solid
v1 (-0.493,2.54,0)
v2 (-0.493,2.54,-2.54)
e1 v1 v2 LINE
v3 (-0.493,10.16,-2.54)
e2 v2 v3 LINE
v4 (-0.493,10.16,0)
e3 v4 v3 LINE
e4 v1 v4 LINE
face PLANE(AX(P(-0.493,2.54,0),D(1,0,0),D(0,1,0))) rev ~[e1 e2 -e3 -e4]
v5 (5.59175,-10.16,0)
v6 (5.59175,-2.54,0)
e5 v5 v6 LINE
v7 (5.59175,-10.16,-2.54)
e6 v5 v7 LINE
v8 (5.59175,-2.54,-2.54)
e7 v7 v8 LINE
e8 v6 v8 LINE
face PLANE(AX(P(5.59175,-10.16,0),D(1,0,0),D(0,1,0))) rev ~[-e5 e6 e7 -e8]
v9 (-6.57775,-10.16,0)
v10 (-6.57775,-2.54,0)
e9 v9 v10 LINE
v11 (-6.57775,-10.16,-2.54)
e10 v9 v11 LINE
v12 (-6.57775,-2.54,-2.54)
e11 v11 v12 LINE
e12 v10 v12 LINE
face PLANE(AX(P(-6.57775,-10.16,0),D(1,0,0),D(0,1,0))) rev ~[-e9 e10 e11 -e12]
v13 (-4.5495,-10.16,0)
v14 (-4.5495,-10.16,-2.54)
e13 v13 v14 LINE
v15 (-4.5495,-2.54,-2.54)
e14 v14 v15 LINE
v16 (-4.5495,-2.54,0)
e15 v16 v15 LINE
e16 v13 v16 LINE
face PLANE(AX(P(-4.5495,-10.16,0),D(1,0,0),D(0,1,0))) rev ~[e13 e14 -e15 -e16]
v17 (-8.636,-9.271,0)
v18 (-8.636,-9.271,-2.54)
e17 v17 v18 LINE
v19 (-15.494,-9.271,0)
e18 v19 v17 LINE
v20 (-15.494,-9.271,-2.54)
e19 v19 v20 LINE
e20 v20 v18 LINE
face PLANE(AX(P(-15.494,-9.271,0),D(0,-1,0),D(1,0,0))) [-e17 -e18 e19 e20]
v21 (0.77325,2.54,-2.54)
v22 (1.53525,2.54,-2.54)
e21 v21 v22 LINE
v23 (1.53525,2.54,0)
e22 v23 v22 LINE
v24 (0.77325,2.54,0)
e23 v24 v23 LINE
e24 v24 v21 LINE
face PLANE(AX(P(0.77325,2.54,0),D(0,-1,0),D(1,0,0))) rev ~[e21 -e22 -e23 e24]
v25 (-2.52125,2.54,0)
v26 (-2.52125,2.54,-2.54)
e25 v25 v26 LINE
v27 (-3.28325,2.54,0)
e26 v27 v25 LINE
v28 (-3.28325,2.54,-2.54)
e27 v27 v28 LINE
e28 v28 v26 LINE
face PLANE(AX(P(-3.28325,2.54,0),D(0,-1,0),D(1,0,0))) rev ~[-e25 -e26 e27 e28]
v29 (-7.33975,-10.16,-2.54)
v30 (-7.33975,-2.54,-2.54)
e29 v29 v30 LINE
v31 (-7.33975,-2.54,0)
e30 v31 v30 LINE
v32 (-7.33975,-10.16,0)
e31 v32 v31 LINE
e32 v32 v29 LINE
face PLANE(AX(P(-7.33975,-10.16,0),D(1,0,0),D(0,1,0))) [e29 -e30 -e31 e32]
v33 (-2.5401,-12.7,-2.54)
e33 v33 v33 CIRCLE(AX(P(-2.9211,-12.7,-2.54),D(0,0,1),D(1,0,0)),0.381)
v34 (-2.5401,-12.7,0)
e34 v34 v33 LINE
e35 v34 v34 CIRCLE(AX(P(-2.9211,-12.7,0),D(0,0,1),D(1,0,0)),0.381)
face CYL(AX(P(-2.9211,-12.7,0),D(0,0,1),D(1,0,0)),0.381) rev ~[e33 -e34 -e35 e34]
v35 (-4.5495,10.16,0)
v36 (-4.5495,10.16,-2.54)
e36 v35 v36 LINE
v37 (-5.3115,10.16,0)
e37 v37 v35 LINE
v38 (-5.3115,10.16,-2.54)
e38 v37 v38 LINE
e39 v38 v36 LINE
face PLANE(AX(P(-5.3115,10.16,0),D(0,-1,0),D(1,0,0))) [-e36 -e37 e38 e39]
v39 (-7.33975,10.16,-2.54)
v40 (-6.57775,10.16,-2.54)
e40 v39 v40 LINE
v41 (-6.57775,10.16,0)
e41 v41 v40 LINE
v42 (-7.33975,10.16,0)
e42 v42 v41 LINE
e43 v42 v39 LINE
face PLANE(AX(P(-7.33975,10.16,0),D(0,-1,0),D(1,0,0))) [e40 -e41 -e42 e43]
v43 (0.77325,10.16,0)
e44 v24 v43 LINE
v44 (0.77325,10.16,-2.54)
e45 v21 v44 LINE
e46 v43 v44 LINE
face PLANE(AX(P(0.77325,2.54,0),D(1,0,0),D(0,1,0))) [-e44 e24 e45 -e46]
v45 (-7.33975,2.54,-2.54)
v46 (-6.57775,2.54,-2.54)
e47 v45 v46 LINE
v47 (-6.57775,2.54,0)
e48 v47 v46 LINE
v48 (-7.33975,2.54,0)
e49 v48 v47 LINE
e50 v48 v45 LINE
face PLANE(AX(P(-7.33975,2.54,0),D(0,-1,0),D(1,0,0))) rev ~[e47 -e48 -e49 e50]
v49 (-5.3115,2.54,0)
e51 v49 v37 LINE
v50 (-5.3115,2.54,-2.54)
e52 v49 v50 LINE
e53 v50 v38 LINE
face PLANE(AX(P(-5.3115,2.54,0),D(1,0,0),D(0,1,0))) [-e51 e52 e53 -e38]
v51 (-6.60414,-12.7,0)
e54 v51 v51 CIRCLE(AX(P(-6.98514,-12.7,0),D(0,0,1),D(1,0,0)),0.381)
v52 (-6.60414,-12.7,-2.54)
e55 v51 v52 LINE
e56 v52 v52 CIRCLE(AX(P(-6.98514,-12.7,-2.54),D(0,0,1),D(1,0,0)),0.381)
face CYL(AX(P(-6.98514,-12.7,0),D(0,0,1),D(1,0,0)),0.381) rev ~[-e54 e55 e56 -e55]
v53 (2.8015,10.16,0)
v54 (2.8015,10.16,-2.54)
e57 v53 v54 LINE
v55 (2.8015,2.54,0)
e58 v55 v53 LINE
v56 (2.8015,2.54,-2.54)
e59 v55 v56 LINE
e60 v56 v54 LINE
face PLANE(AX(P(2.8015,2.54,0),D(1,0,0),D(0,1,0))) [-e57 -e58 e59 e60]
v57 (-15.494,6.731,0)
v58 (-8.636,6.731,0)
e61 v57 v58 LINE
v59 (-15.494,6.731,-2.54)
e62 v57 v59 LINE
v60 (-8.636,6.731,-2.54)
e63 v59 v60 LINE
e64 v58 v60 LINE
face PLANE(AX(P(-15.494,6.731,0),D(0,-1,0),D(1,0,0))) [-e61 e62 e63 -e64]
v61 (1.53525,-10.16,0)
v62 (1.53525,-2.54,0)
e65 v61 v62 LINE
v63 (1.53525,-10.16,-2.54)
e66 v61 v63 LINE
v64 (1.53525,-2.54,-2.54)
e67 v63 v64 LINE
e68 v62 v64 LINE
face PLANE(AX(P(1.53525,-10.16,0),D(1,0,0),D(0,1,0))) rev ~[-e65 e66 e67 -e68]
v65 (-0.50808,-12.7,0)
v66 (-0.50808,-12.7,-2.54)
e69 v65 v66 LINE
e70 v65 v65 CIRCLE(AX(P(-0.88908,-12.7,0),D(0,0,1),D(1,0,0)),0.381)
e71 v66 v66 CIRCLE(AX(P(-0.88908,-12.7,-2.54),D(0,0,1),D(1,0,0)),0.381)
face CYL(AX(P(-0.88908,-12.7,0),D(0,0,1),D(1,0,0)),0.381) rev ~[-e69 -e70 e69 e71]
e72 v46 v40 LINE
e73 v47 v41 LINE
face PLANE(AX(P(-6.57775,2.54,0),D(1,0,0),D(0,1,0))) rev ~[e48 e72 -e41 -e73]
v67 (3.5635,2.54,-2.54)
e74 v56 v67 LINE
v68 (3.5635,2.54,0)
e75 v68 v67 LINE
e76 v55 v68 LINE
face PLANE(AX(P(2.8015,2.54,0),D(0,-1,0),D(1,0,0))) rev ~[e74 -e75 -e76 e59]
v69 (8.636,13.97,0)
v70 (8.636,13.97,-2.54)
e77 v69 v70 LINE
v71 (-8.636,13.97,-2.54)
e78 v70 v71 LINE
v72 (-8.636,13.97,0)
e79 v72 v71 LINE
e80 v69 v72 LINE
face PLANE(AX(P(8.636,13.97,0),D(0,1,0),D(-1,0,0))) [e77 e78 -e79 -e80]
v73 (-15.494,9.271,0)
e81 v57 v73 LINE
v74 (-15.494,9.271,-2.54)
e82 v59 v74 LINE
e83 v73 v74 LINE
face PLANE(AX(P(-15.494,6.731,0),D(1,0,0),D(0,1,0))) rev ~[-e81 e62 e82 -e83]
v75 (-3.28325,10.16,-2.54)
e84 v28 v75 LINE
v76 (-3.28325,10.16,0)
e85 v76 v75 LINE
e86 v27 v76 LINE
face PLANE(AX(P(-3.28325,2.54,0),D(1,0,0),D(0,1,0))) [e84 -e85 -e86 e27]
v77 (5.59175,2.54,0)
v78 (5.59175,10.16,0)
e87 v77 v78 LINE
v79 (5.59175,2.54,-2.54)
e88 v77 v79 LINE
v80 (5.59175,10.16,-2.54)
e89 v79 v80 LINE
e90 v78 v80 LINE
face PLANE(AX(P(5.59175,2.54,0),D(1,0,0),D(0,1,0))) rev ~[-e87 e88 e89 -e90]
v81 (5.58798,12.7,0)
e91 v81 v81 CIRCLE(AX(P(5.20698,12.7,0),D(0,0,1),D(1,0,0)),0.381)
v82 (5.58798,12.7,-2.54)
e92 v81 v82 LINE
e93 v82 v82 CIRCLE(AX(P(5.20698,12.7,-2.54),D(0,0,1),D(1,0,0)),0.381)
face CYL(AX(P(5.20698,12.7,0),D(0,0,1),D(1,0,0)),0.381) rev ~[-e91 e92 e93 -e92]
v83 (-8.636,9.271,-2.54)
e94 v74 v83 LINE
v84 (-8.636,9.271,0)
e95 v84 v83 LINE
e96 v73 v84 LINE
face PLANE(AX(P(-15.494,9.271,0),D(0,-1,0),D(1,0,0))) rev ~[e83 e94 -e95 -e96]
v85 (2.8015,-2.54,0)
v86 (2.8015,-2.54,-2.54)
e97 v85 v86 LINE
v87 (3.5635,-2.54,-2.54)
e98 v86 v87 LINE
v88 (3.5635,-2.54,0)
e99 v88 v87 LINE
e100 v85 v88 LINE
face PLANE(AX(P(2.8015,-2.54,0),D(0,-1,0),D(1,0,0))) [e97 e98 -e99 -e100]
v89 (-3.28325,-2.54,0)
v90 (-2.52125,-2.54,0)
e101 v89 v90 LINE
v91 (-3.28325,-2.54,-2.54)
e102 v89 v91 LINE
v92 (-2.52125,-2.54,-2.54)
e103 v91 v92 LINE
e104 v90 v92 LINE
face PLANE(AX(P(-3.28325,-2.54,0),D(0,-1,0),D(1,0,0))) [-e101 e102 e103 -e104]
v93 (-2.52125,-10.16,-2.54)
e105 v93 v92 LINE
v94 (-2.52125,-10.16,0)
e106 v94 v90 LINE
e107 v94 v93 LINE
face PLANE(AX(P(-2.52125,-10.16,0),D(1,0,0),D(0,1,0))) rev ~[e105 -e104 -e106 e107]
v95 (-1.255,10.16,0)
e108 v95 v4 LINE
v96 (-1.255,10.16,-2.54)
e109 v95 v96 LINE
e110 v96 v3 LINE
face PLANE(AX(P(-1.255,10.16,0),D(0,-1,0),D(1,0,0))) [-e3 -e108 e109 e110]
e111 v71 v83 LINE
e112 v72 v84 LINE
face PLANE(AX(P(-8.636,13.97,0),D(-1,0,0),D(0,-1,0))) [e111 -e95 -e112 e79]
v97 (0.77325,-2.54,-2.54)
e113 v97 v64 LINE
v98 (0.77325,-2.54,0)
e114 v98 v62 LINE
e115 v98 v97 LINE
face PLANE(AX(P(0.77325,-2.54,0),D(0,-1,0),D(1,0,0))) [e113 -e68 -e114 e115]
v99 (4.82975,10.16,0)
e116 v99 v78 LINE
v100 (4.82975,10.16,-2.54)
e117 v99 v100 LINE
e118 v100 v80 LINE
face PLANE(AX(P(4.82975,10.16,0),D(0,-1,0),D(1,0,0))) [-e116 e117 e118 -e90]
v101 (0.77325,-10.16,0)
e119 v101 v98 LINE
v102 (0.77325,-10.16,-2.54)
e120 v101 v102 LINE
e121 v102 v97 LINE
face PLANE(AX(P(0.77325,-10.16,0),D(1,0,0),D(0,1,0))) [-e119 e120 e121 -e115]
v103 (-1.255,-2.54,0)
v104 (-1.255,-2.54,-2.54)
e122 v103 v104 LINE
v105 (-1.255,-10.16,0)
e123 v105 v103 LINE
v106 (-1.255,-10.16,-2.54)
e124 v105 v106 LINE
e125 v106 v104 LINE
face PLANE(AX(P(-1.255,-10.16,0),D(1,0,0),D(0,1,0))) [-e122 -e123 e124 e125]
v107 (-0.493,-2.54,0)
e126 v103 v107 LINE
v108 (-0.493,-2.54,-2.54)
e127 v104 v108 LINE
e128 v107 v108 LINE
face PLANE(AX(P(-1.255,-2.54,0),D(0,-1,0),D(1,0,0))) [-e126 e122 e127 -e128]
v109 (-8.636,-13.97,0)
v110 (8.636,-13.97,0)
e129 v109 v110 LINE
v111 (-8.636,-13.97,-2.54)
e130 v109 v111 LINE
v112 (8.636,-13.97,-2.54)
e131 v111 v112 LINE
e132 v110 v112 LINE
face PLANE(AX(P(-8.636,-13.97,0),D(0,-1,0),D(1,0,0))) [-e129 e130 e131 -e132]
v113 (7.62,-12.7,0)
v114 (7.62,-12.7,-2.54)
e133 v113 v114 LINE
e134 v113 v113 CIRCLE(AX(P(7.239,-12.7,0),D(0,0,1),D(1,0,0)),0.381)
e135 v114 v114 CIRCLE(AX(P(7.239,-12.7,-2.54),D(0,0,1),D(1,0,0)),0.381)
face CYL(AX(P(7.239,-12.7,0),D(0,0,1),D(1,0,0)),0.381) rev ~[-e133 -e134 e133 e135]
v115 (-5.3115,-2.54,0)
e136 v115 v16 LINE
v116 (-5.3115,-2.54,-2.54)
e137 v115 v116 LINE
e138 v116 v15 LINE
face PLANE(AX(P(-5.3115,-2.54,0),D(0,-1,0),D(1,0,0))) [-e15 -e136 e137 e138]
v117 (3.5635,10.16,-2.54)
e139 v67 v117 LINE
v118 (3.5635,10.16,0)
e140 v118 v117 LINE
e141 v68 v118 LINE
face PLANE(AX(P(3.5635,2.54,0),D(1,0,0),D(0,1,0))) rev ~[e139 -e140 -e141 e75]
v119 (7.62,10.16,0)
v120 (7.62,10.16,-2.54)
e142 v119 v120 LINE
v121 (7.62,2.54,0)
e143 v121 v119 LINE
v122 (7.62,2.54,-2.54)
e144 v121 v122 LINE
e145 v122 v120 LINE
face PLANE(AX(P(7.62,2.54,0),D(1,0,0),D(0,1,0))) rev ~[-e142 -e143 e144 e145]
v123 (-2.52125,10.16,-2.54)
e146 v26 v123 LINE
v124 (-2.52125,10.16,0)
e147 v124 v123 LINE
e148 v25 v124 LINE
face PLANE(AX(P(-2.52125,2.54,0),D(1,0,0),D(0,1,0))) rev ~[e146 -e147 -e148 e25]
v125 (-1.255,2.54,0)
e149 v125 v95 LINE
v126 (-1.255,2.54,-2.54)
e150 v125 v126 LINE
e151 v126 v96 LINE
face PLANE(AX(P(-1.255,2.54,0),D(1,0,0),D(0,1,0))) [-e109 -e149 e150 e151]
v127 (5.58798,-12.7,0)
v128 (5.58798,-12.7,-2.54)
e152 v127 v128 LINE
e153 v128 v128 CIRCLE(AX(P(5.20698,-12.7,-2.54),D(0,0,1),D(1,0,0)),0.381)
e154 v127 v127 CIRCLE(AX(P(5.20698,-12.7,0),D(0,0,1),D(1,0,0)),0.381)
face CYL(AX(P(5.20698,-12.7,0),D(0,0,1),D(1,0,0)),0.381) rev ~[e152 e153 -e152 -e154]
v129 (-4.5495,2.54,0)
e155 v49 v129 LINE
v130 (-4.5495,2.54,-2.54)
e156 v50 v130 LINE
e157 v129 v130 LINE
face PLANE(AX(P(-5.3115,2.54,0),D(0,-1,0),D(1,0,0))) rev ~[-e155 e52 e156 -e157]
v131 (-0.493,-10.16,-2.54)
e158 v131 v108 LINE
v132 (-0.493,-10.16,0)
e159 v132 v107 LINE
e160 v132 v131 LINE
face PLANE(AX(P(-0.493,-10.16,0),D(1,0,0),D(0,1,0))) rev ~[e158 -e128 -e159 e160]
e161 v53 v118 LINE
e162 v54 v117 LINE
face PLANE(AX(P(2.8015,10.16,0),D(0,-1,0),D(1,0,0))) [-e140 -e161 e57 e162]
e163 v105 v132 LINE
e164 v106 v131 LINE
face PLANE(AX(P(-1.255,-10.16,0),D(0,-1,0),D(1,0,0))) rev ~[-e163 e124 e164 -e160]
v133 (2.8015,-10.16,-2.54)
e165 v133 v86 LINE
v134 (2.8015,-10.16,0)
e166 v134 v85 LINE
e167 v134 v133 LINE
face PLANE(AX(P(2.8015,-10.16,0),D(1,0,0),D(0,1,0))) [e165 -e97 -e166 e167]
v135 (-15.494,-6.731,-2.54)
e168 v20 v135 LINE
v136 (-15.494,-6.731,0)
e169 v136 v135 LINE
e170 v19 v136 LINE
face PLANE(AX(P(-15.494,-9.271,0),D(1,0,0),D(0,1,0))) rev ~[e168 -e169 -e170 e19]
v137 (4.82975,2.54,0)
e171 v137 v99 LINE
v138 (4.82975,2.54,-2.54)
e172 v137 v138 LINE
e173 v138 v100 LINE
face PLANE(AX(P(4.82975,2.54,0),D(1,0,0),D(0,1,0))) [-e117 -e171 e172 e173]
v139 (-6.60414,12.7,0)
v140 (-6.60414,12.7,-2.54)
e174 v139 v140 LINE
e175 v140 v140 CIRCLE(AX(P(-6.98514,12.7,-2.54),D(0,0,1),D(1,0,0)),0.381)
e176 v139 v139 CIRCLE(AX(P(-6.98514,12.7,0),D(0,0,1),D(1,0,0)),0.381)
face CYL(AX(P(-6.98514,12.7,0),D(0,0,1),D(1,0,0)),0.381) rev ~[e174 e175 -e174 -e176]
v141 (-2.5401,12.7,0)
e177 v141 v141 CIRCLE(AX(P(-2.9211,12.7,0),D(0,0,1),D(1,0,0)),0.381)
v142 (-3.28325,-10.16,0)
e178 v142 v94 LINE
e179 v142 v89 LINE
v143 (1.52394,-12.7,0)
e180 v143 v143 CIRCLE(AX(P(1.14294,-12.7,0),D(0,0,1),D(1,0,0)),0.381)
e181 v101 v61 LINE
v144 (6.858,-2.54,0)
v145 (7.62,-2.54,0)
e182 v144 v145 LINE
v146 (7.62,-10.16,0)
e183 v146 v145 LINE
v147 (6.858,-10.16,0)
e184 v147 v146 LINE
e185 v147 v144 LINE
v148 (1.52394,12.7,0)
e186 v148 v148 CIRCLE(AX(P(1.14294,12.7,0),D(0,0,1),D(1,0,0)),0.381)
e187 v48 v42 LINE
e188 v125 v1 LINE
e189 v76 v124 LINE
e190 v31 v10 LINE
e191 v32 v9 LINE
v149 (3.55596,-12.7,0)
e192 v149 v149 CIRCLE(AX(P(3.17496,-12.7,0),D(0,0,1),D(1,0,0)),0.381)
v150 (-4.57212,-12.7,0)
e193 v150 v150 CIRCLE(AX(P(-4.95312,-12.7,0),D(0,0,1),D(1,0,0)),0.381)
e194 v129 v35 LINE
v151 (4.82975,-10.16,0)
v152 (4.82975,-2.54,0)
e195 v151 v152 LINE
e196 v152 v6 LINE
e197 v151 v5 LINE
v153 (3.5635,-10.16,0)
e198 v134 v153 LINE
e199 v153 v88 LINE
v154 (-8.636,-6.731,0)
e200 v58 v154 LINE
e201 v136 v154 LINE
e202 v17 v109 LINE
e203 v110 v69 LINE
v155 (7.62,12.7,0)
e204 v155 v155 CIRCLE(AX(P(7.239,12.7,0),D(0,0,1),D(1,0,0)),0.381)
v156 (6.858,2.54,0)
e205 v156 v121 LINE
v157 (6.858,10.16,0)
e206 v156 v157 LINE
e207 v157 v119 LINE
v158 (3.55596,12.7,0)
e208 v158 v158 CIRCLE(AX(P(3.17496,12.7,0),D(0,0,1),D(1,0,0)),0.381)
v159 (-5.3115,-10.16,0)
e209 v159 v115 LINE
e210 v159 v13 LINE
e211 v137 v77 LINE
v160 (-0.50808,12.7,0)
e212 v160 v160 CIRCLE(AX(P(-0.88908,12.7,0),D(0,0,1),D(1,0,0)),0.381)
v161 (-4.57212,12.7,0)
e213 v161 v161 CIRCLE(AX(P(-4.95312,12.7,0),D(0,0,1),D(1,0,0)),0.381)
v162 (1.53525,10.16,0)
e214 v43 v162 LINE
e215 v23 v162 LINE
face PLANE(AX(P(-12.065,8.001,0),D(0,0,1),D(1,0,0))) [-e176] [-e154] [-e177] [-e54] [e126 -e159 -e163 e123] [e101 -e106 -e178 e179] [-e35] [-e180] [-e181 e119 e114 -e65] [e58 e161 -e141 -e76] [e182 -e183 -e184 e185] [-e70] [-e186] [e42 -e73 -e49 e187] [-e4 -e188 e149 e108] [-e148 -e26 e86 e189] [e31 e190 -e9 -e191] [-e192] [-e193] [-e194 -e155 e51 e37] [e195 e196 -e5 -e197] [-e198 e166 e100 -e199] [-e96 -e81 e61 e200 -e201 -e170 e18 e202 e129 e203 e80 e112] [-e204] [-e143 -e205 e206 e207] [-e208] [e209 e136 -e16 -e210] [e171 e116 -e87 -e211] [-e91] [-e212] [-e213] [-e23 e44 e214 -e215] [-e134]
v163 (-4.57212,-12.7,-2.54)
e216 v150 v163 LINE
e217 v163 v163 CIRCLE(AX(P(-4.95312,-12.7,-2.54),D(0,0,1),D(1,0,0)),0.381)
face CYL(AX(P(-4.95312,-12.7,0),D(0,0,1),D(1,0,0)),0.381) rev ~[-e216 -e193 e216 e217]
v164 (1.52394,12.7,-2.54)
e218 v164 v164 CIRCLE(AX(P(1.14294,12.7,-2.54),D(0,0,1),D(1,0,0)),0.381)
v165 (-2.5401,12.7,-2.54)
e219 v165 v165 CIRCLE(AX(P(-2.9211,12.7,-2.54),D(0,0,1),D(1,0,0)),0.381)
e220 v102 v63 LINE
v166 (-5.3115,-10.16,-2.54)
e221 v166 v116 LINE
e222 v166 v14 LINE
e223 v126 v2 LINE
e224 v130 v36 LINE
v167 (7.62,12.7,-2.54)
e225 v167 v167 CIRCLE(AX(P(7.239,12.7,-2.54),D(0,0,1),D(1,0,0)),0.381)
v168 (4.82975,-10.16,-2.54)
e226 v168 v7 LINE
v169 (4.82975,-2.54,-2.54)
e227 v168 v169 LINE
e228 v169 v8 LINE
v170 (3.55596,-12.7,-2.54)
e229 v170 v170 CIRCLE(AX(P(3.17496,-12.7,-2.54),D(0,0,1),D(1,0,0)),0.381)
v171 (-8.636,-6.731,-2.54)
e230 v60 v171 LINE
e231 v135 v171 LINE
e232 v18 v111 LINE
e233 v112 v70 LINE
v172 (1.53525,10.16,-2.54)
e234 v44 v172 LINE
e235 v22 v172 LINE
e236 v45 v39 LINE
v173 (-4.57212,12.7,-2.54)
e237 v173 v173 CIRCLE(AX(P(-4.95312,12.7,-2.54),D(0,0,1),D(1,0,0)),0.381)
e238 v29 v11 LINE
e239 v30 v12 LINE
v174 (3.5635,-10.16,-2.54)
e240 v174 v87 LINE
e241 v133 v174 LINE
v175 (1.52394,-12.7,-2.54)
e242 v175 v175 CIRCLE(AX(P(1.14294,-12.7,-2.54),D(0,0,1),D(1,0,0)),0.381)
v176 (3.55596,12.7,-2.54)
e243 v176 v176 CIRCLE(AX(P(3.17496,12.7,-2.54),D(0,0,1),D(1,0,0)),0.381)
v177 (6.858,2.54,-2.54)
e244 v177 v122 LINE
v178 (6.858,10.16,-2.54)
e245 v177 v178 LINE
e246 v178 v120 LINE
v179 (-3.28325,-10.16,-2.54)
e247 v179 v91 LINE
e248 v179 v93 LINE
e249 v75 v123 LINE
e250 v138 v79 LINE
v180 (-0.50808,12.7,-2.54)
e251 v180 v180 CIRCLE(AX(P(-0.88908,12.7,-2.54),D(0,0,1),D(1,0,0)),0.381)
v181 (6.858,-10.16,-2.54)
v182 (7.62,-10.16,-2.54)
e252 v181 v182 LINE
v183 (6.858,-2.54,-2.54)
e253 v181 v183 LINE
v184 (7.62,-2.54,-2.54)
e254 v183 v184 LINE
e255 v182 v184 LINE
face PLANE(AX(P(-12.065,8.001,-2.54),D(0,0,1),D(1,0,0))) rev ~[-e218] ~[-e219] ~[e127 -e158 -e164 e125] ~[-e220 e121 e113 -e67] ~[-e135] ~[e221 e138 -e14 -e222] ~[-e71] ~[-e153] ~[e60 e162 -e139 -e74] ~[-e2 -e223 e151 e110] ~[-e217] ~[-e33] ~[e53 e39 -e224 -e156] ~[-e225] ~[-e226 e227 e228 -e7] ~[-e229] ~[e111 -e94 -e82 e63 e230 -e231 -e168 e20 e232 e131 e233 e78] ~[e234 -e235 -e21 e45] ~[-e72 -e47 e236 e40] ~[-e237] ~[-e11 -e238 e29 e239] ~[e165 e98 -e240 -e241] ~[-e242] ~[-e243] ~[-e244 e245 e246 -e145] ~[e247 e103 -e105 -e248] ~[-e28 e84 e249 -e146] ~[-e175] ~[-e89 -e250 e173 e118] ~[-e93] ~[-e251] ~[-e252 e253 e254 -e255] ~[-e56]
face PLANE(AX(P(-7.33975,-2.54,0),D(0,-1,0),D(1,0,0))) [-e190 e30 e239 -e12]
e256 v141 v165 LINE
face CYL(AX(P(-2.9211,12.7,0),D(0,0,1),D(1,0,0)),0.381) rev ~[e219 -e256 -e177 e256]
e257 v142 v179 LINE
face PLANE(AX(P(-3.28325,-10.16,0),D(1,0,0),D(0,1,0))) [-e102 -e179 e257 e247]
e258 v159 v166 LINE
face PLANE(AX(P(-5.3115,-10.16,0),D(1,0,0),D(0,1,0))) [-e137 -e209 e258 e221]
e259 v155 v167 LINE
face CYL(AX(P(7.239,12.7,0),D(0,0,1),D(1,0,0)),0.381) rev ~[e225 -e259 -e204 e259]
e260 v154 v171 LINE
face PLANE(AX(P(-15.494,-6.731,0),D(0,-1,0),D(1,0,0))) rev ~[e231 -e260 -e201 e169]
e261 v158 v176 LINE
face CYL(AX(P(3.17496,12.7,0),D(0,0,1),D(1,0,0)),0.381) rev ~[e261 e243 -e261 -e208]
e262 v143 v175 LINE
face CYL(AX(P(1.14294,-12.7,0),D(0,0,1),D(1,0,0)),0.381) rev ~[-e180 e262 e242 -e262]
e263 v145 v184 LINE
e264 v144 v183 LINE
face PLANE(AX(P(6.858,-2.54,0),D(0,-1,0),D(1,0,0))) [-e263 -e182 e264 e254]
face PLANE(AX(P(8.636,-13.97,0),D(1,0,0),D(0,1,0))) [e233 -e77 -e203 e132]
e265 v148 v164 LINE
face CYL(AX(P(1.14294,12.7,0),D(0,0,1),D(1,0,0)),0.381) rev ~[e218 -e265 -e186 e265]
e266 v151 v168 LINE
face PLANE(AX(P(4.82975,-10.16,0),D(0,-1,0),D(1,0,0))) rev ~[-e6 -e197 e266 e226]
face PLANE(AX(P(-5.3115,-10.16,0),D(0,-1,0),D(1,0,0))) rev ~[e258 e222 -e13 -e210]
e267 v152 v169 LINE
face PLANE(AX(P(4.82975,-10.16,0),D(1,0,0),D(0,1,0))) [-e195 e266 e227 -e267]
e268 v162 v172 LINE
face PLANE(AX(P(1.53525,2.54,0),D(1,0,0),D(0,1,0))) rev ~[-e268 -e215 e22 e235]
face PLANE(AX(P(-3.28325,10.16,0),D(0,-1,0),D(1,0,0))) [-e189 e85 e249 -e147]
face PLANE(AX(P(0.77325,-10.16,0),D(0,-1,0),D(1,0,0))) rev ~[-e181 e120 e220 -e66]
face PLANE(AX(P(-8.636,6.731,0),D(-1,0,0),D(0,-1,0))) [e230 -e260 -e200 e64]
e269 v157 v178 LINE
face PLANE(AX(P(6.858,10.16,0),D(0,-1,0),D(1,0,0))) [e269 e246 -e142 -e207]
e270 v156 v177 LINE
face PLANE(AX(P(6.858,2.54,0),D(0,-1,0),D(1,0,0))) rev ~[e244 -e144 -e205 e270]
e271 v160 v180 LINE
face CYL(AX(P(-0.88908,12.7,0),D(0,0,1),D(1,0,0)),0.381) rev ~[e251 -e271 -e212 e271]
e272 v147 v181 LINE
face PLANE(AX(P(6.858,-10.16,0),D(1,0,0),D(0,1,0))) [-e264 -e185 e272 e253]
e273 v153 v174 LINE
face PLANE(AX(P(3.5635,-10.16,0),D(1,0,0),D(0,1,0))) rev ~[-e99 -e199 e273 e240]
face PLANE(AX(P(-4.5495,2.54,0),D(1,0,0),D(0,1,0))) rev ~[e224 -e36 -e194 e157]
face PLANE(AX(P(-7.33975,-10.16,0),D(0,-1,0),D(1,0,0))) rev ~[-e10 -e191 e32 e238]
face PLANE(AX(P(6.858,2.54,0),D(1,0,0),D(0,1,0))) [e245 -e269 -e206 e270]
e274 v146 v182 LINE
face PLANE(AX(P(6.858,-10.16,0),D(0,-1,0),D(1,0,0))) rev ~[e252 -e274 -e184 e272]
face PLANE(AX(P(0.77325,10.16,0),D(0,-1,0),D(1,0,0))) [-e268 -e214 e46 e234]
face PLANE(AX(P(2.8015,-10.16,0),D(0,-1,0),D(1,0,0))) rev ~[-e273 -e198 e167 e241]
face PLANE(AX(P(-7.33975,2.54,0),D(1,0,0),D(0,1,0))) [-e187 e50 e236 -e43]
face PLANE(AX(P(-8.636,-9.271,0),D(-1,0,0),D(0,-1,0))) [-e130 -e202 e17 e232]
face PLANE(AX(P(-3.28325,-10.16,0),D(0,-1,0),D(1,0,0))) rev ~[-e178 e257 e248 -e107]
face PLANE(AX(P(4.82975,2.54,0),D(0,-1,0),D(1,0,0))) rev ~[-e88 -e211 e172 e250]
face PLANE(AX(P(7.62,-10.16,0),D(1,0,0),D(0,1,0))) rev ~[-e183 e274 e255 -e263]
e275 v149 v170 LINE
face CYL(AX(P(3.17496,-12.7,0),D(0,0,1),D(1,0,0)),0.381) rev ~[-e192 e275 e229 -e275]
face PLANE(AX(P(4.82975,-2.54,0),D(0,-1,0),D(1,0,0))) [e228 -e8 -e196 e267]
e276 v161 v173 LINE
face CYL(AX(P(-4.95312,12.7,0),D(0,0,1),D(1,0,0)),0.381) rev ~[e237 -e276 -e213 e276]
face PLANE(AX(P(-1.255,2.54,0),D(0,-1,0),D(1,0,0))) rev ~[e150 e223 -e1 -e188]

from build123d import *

# Parameters (mm, degrees)
F0_W     = 6.858
F0_H     = 2.54
F0_R     = 0.381
F0_W_2   = 0.762
F0_H_2   = 7.62
F1_DEPTH = 2.54


with BuildPart() as f1:
    # F0 (on Top) → F1 (new body)
    with BuildSketch(Plane.XY):
        with Locations((-12.065, 8.001)):
            Rectangle(F0_W, F0_H)
        with Locations((-12.065, -8.001)):
            Rectangle(F0_W, F0_H)
        Polygon((8.636, -13.97), (8.636, 13.97), (-8.636, 13.97), (-8.636, 9.271), (-8.636, 6.731), (-8.636, -6.731), (-8.636, -9.271), (-8.636, -13.97), align=None)
        with Locations((-6.98514, -12.7)):
            Circle(F0_R, mode=Mode.SUBTRACT)
        with Locations((-4.95312, -12.7)):
            Circle(F0_R, mode=Mode.SUBTRACT)
        with Locations((-6.95875, -6.35)):
            Rectangle(F0_W_2, F0_H_2, mode=Mode.SUBTRACT)
        with Locations((-4.9305, -6.35)):
            Rectangle(F0_W_2, F0_H_2, mode=Mode.SUBTRACT)
        with Locations((-2.9211, -12.7)):
            Circle(F0_R, mode=Mode.SUBTRACT)
        with Locations((-0.88908, -12.7)):
            Circle(F0_R, mode=Mode.SUBTRACT)
        with Locations((1.14294, -12.7)):
            Circle(F0_R, mode=Mode.SUBTRACT)
        with Locations((3.17496, -12.7)):
            Circle(F0_R, mode=Mode.SUBTRACT)
        with Locations((5.20698, -12.7)):
            Circle(F0_R, mode=Mode.SUBTRACT)
        with Locations((7.239, -12.7)):
            Circle(F0_R, mode=Mode.SUBTRACT)
        with Locations((-2.90225, -6.35)):
            Rectangle(F0_W_2, F0_H_2, mode=Mode.SUBTRACT)
        with Locations((-0.874, -6.35)):
            Rectangle(F0_W_2, F0_H_2, mode=Mode.SUBTRACT)
        with Locations((1.15425, -6.35)):
            Rectangle(F0_W_2, F0_H_2, mode=Mode.SUBTRACT)
        with Locations((3.1825, -6.35)):
            Rectangle(F0_W_2, F0_H_2, mode=Mode.SUBTRACT)
        with Locations((5.21075, -6.35)):
            Rectangle(F0_W_2, F0_H_2, mode=Mode.SUBTRACT)
        with Locations((7.239, -6.35)):
            Rectangle(F0_W_2, F0_H_2, mode=Mode.SUBTRACT)
        with Locations((-6.95875, 6.35)):
            Rectangle(F0_W_2, F0_H_2, mode=Mode.SUBTRACT)
        with Locations((-4.9305, 6.35)):
            Rectangle(F0_W_2, F0_H_2, mode=Mode.SUBTRACT)
        with Locations((-6.98514, 12.7)):
            Circle(F0_R, mode=Mode.SUBTRACT)
        with Locations((-4.95312, 12.7)):
            Circle(F0_R, mode=Mode.SUBTRACT)
        with Locations((-2.90225, 6.35)):
            Rectangle(F0_W_2, F0_H_2, mode=Mode.SUBTRACT)
        with Locations((-0.874, 6.35)):
            Rectangle(F0_W_2, F0_H_2, mode=Mode.SUBTRACT)
        with Locations((1.15425, 6.35)):
            Rectangle(F0_W_2, F0_H_2, mode=Mode.SUBTRACT)
        with Locations((3.1825, 6.35)):
            Rectangle(F0_W_2, F0_H_2, mode=Mode.SUBTRACT)
        with Locations((5.21075, 6.35)):
            Rectangle(F0_W_2, F0_H_2, mode=Mode.SUBTRACT)
        with Locations((7.239, 6.35)):
            Rectangle(F0_W_2, F0_H_2, mode=Mode.SUBTRACT)
        with Locations((-2.9211, 12.7)):
            Circle(F0_R, mode=Mode.SUBTRACT)
        with Locations((-0.88908, 12.7)):
            Circle(F0_R, mode=Mode.SUBTRACT)
        with Locations((1.14294, 12.7)):
            Circle(F0_R, mode=Mode.SUBTRACT)
        with Locations((3.17496, 12.7)):
            Circle(F0_R, mode=Mode.SUBTRACT)
        with Locations((5.20698, 12.7)):
            Circle(F0_R, mode=Mode.SUBTRACT)
        with Locations((7.239, 12.7)):
            Circle(F0_R, mode=Mode.SUBTRACT)
    extrude(amount=-F1_DEPTH)


solid = f1.part
